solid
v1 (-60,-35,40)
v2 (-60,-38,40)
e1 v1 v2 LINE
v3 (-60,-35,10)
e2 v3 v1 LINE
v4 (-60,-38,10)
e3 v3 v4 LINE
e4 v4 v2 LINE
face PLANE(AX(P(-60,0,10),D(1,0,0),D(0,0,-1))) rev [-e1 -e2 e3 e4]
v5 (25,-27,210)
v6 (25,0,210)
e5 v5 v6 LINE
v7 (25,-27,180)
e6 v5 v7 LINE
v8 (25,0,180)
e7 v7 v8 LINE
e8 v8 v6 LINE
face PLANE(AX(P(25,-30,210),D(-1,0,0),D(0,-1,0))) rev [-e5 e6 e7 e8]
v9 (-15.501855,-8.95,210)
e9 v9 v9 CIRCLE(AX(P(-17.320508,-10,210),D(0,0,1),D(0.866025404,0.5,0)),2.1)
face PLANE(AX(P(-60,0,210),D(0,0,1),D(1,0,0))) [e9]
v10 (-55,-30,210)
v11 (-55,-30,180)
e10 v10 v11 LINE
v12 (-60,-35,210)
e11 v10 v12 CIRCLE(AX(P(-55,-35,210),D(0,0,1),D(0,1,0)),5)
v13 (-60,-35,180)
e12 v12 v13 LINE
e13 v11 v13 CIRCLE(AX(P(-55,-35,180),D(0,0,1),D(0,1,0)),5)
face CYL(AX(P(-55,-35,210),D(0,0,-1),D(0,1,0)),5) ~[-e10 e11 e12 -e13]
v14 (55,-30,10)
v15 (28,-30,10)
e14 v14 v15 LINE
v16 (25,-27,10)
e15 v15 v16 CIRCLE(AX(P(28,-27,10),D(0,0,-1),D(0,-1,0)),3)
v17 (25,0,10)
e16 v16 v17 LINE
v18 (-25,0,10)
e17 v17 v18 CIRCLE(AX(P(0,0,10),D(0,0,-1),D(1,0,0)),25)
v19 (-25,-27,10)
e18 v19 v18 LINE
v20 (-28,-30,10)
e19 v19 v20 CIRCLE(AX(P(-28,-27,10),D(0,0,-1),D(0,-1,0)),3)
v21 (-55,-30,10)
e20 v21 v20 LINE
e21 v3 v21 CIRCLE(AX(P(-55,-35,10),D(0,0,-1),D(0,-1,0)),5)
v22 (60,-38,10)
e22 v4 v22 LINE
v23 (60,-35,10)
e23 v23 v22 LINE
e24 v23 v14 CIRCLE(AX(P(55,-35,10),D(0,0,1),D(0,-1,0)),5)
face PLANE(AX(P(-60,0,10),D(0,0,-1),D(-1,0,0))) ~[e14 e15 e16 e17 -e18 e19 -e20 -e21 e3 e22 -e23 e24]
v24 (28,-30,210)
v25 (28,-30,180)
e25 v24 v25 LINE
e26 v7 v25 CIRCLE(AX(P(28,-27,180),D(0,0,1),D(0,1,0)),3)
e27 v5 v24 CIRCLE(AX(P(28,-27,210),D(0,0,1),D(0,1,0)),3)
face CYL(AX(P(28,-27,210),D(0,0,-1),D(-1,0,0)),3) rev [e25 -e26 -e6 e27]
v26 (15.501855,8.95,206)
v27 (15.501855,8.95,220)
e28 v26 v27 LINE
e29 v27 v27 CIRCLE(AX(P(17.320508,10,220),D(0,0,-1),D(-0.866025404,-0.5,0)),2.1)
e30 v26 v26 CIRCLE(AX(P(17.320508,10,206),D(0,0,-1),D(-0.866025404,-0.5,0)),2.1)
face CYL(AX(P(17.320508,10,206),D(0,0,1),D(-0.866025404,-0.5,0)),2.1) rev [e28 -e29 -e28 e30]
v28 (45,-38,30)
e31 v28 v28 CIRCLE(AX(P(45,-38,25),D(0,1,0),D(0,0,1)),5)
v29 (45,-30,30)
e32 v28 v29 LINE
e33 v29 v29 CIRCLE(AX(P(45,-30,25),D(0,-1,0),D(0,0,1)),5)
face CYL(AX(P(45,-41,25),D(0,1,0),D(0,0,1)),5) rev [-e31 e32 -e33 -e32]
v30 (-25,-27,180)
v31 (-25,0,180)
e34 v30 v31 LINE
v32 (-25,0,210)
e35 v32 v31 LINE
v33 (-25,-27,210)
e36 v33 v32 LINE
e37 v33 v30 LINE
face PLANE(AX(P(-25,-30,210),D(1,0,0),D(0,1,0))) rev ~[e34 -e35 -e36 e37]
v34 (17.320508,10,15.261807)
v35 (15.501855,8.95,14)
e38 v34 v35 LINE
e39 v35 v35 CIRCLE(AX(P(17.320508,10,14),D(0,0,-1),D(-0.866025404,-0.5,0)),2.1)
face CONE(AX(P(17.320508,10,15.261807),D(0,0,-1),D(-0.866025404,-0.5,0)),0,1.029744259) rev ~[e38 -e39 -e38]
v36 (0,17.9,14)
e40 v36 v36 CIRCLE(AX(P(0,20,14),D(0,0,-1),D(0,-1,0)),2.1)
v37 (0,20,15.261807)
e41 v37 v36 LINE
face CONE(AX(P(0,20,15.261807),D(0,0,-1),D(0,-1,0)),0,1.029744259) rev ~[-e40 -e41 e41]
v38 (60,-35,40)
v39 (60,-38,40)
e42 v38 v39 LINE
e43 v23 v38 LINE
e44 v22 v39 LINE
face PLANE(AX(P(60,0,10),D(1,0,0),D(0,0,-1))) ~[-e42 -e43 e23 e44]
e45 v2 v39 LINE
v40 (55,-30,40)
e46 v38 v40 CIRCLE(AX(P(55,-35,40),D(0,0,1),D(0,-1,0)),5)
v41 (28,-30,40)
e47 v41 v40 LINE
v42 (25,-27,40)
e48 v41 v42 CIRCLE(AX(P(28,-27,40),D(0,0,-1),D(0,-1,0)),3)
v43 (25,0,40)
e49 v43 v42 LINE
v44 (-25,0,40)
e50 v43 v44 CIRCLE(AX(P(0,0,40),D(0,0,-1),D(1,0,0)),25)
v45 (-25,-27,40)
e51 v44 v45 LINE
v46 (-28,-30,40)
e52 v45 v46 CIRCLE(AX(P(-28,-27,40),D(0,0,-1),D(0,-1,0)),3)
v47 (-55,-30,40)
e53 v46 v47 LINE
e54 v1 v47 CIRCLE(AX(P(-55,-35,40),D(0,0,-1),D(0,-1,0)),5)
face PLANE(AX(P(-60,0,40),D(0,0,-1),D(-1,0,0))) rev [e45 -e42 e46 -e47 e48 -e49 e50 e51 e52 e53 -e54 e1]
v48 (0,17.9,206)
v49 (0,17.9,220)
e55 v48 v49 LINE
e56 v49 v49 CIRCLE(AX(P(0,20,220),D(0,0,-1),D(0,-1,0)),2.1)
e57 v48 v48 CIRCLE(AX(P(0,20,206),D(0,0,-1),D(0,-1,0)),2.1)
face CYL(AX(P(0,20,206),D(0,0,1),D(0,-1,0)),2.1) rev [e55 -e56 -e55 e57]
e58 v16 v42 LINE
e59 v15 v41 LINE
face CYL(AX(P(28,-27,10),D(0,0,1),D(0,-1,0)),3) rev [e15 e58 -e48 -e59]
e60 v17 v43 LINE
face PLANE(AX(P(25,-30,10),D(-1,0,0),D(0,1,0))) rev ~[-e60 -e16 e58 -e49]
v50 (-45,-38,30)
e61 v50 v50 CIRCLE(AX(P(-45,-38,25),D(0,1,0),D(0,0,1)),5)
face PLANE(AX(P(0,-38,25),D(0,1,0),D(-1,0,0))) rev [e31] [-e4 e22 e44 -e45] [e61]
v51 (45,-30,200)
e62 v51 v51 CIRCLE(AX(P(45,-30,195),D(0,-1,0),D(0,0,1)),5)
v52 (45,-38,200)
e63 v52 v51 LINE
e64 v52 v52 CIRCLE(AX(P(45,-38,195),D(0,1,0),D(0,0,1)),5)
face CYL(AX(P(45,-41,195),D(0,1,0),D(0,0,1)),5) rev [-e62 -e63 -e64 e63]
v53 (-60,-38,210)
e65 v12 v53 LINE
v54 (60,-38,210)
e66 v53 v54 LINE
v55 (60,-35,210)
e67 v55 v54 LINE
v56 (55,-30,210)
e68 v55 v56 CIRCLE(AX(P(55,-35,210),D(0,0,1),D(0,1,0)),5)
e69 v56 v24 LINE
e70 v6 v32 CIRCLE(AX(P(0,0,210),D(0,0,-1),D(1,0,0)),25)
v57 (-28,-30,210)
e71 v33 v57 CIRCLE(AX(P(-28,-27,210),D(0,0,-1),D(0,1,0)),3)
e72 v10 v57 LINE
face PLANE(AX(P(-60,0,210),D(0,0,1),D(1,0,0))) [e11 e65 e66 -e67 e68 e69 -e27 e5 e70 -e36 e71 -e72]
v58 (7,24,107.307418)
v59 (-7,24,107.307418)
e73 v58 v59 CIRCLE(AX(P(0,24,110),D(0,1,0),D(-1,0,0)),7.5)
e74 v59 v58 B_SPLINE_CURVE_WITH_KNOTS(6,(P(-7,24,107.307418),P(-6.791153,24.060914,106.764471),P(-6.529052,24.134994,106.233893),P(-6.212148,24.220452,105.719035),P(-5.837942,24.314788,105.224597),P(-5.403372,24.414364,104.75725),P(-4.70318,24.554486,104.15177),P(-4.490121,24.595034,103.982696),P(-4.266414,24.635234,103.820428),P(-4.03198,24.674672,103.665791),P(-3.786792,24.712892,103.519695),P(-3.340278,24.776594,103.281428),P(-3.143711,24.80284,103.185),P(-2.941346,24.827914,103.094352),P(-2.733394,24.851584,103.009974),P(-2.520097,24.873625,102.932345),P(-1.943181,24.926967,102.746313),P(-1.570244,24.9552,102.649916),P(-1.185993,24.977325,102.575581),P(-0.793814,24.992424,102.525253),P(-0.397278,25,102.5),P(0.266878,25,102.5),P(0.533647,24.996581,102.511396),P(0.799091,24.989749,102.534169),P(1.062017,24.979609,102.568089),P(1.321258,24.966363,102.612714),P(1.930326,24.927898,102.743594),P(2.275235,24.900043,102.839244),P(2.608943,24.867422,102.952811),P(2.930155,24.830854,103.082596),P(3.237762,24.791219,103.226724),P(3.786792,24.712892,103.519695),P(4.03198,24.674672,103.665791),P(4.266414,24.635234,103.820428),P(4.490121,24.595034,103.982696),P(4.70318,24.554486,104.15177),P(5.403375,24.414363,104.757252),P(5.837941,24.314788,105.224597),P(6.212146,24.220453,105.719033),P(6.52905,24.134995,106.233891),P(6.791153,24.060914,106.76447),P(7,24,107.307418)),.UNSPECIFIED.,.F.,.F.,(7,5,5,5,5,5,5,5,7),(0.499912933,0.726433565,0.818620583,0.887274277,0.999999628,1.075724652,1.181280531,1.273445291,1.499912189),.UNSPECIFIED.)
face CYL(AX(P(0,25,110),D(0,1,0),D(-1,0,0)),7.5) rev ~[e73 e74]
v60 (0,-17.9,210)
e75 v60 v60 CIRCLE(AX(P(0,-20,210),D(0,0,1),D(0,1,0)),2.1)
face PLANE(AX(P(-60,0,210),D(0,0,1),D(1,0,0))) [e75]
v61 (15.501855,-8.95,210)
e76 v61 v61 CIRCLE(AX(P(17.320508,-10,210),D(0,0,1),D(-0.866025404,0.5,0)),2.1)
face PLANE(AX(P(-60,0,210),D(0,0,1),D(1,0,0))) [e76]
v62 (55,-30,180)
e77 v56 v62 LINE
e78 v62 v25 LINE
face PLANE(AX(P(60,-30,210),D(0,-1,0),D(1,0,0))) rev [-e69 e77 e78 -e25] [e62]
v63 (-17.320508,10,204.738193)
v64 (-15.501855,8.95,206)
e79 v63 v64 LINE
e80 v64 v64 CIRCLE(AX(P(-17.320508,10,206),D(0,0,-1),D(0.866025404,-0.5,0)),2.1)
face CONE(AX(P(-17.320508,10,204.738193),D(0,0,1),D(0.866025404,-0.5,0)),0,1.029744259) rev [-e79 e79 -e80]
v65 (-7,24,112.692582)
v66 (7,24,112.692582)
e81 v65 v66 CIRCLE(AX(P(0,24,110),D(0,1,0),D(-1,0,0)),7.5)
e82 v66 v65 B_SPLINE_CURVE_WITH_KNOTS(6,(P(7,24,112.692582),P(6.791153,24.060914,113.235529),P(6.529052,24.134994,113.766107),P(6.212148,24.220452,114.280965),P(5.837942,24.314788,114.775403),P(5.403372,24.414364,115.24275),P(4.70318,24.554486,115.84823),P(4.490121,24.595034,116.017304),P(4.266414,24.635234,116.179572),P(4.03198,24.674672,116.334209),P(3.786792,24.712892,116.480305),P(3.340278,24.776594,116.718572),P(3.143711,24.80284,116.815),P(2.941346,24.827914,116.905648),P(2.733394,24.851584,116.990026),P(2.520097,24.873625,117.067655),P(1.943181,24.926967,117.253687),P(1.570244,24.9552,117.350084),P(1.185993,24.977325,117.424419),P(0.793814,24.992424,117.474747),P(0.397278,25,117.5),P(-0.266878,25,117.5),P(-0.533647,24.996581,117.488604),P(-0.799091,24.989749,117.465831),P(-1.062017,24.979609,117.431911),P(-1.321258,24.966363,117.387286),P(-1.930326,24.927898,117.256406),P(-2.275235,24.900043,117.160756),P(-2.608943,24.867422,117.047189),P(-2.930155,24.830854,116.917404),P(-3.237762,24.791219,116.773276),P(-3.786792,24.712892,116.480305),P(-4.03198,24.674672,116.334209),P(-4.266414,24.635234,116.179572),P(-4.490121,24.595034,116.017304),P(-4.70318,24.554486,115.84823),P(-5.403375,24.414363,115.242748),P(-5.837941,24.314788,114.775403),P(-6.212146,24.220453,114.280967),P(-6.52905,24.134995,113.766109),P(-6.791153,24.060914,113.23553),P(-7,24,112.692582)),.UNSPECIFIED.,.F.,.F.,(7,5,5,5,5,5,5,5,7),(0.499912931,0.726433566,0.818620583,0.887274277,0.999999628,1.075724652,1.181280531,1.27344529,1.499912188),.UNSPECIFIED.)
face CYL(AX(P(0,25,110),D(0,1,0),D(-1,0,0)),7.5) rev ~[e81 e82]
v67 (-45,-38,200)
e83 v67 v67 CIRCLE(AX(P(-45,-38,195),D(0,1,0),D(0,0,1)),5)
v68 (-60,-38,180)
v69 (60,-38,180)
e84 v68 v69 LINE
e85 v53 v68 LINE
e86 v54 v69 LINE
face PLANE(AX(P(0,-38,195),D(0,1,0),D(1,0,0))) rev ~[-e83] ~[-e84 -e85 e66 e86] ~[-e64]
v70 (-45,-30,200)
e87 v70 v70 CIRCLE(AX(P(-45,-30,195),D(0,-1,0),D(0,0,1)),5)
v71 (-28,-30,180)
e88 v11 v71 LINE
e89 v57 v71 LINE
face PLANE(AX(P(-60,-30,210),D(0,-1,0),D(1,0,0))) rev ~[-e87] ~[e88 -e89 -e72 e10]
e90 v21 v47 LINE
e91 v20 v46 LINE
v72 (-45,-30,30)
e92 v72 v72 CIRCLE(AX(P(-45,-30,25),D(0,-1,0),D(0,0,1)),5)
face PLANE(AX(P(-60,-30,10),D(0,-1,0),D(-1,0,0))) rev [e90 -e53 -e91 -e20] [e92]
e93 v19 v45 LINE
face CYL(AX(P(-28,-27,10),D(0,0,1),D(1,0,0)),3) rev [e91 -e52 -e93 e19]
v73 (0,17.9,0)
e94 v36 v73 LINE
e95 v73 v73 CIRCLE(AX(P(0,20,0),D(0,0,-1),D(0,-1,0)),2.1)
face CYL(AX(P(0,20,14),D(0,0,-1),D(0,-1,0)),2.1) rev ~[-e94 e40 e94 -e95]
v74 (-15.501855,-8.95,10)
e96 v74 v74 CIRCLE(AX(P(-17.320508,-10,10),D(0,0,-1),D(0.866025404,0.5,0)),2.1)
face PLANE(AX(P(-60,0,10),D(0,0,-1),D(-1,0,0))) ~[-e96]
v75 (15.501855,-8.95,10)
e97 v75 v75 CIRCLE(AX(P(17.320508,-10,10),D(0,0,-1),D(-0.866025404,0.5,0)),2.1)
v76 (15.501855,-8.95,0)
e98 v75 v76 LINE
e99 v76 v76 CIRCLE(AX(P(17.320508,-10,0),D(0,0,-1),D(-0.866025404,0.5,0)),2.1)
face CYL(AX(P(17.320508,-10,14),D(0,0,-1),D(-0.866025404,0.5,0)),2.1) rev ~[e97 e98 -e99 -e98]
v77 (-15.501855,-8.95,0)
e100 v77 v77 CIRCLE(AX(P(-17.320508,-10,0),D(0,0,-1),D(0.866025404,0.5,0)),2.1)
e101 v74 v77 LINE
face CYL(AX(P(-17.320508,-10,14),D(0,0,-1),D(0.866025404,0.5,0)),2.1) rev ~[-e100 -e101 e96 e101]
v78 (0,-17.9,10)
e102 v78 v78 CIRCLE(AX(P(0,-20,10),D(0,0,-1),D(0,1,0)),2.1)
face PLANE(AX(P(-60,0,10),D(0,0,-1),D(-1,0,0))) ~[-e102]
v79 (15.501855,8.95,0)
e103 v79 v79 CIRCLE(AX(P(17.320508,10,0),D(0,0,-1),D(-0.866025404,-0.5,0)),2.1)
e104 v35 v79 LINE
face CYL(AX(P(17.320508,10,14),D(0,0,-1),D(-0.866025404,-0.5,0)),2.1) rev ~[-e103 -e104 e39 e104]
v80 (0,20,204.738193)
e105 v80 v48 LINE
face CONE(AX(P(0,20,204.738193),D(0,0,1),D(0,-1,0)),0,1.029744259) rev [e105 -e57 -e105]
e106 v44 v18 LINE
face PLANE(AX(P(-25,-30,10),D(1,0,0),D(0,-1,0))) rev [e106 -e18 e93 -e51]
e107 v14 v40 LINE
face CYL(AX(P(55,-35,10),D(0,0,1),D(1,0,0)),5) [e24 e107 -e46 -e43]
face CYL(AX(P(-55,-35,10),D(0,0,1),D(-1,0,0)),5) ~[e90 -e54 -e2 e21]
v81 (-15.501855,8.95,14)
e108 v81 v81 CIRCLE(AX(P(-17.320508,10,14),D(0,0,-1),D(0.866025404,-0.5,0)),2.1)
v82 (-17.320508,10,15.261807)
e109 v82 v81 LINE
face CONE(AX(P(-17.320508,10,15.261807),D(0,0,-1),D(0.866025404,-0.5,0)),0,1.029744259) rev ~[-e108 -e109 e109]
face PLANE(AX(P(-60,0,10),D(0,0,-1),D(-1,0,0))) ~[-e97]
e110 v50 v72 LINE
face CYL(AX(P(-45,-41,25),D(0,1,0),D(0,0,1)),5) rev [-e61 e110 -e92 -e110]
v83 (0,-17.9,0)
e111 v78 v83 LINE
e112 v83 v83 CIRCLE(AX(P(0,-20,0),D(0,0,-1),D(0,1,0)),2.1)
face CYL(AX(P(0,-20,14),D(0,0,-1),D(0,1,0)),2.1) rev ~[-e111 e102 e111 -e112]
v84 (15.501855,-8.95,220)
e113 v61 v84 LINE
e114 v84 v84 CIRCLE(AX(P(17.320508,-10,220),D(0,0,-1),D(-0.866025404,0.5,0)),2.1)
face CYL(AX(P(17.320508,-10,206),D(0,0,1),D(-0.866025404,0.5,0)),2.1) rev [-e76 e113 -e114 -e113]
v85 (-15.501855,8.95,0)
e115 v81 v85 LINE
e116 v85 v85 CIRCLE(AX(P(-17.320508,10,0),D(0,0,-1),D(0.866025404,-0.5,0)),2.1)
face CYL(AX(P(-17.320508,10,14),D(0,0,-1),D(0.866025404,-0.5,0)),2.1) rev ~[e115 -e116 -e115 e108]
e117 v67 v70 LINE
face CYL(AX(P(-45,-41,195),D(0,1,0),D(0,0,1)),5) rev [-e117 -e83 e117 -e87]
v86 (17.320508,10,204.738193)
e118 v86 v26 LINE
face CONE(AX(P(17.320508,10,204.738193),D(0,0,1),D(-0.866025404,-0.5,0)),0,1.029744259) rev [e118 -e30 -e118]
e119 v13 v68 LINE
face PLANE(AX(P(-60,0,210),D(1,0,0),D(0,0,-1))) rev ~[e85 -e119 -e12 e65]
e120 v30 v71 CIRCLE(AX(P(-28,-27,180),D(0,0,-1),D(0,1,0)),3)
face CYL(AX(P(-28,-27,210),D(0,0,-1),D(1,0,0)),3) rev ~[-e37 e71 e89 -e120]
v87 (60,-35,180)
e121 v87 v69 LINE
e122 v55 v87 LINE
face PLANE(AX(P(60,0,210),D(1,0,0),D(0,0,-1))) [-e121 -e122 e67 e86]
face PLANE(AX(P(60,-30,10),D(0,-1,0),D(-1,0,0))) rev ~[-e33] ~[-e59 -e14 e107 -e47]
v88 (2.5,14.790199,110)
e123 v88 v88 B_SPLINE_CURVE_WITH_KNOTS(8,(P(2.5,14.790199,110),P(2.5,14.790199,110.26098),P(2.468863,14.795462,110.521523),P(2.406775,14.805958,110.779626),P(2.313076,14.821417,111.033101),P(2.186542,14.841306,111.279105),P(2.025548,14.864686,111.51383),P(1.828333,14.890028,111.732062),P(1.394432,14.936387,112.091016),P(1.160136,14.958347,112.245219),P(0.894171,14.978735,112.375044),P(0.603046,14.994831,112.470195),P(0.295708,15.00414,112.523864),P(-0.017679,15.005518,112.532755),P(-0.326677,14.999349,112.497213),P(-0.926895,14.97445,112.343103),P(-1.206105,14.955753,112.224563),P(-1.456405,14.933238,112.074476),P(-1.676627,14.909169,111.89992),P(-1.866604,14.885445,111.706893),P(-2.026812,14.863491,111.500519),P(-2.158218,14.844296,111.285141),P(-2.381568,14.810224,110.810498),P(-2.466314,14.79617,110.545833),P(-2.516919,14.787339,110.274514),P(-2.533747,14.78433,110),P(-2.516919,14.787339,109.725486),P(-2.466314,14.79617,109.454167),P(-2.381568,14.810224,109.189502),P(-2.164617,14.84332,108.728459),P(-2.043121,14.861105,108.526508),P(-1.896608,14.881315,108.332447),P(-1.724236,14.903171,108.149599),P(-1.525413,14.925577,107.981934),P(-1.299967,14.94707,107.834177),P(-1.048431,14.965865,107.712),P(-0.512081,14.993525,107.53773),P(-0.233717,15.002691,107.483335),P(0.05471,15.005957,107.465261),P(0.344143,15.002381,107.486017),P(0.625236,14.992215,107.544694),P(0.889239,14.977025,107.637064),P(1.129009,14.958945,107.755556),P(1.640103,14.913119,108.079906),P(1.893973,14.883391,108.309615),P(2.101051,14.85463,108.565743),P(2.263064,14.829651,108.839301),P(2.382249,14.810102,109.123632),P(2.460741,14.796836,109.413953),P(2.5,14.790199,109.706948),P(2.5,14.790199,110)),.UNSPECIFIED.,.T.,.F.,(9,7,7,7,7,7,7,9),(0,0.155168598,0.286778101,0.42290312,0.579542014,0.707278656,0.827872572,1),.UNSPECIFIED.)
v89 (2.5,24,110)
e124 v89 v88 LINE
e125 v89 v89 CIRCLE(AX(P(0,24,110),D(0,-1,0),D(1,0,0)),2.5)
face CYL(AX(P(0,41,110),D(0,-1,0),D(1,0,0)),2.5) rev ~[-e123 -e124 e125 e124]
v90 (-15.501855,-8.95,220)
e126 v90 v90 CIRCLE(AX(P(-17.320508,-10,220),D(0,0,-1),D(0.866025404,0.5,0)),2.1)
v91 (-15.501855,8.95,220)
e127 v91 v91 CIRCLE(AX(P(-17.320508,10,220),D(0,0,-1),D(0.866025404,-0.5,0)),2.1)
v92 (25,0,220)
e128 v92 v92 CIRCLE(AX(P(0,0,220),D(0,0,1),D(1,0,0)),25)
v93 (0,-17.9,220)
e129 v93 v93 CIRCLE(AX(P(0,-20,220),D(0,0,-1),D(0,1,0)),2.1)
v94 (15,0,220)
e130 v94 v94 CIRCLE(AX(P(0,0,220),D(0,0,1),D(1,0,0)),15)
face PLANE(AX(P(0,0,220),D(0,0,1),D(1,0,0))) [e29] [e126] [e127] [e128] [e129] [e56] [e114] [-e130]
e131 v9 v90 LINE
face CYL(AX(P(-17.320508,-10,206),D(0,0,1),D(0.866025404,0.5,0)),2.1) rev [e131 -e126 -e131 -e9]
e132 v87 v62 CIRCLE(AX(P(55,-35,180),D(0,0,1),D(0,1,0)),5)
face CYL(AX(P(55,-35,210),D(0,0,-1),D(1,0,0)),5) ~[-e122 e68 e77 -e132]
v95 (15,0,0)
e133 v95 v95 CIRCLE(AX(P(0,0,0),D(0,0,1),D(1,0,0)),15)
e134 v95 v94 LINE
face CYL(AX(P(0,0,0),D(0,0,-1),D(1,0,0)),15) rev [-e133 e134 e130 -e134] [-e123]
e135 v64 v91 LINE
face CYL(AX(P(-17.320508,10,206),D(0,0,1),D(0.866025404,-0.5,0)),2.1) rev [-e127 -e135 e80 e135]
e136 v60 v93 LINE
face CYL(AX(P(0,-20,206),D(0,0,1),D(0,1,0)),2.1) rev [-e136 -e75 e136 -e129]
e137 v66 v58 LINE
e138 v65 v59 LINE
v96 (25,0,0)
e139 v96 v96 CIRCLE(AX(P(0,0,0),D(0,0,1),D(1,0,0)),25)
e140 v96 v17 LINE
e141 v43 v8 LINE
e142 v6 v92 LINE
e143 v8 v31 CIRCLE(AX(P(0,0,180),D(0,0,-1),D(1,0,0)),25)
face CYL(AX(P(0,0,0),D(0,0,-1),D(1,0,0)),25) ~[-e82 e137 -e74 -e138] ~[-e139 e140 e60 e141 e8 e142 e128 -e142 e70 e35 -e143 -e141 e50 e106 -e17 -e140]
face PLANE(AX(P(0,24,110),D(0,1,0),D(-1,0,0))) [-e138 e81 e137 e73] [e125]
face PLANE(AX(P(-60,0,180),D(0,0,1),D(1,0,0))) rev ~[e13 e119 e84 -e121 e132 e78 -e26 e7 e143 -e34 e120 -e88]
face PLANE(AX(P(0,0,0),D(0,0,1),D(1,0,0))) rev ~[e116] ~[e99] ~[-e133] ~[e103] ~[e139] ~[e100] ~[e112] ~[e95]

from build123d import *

# Parameters (mm, degrees)
SKETCH1_R                 = 25
SKETCH1_R_2               = 15
BOSS_EXTRUDE1_DEPTH       = 220
CIRPATTERN1_COUNT         = 6
SKETCH11_R                = 7.5
CUT_EXTRUDE2_DEPTH        = 1
SKETCH13_W                = 120
SKETCH13_H                = 30
BOSS_EXTRUDE3_DEPTH       = 38
SKETCH15_R                = 15
CUT_EXTRUDE3_DEPTH        = 221.0000001
SKETCH16_W                = 35
SKETCH16_H                = 30
CUT_EXTRUDE4_DEPTH        = 38
MIRROR4_COPY_1_SKETCH_W   = 35
MIRROR4_COPY_1_SKETCH_H   = 30
MIRROR4_COPY_1_DEPTH      = 38
FILLET1_R                 = 5
FILLET2_R                 = 3
M6X1_0_TAPPED_HOLE1_D     = 5
M6X1_0_TAPPED_HOLE1_DEPTH = 17
M6X1_0_TAPPED_HOLE1_TIP   = 1.502151548
LPATTERN1_COUNT           = 2
LPATTERN1_PITCH           = 90
LPATTERN1_COUNT_DIR2      = 2
LPATTERN1_PITCH_DIR2      = 170


with BuildPart() as part:
    # Sketch1 → Boss-Extrude1 (new body)
    with BuildSketch(Plane.XY):
        Circle(SKETCH1_R)
        Circle(SKETCH1_R_2, mode=Mode.SUBTRACT)
    extrude(amount=BOSS_EXTRUDE1_DEPTH)

    # Sketch2 → M5x0.8 Tapped Hole1 (revolve, cut)
    with BuildSketch(Plane(origin=(0, 20, 220), x_dir=(0, -1, 0), z_dir=(1, 0, 0))):
        Polygon((0, 0), (0, 15.2618073), (2.1, 14), (2.1, 0), align=None)
    m5x0_8_tapped_hole1 = revolve(axis=Axis((0, 20, 226.35), (0, 0, -1)), mode=Mode.SUBTRACT)

    # CirPattern1: M5x0.8 Tapped Hole1 ×6 about axis
    cirpattern1_axis = Axis((0, 0, 0), (0, 0, 1))
    for i in range(1, CIRPATTERN1_COUNT):
        add(m5x0_8_tapped_hole1.rotate(cirpattern1_axis, i * 360 / CIRPATTERN1_COUNT), mode=Mode.SUBTRACT)

    # Mirror1: M5x0.8 Tapped Hole1 across plane
    add(m5x0_8_tapped_hole1.mirror(Plane.XY.offset(110)), mode=Mode.SUBTRACT)

    # Mirror1 copy 1 sketch → Mirror1 copy 1 (revolve, cut)
    with BuildSketch(Plane(origin=(-17.320508076, 10, 0), x_dir=(0.866025404, -0.5, 0), z_dir=(0.5, 0.866025404, 0))):
        Polygon((0, 0), (0, -15.2618073), (2.1, -14), (2.1, 0), align=None)
    revolve(axis=Axis((-17.320508076, 10, -6.35), (0, 0, -1)), mode=Mode.SUBTRACT)

    # Mirror1 copy 2 sketch → Mirror1 copy 2 (revolve, cut)
    with BuildSketch(Plane(origin=(-17.320508076, -10, 0), x_dir=(0.866025404, 0.5, 0), z_dir=(-0.5, 0.866025404, 0))):
        Polygon((0, 0), (0, -15.2618073), (2.1, -14), (2.1, 0), align=None)
    revolve(axis=Axis((-17.320508076, -10, -6.35), (0, 0, -1)), mode=Mode.SUBTRACT)

    # Mirror1 copy 3 sketch → Mirror1 copy 3 (revolve, cut)
    with BuildSketch(Plane(origin=(0, -20, 0), x_dir=(0, 1, 0), z_dir=(-1, 0, 0))):
        Polygon((0, 0), (0, -15.2618073), (2.1, -14), (2.1, 0), align=None)
    revolve(axis=Axis((0, -20, -6.35), (0, 0, -1)), mode=Mode.SUBTRACT)

    # Mirror1 copy 4 sketch → Mirror1 copy 4 (revolve, cut)
    with BuildSketch(Plane(origin=(17.320508076, -10, 0), x_dir=(-0.866025404, 0.5, 0), z_dir=(-0.5, -0.866025404, 0))):
        Polygon((0, 0), (0, -15.2618073), (2.1, -14), (2.1, 0), align=None)
    revolve(axis=Axis((17.320508076, -10, -6.35), (0, 0, -1)), mode=Mode.SUBTRACT)

    # Mirror1 copy 5 sketch → Mirror1 copy 5 (revolve, cut)
    with BuildSketch(Plane(origin=(17.320508076, 10, 0), x_dir=(-0.866025404, -0.5, 0), z_dir=(0.5, -0.866025404, 0))):
        Polygon((0, 0), (0, -15.2618073), (2.1, -14), (2.1, 0), align=None)
    revolve(axis=Axis((17.320508076, 10, -6.35), (0, 0, -1)), mode=Mode.SUBTRACT)

    # Sketch11 → Cut-Extrude2 (cut)
    with BuildSketch(Plane(origin=(0, 25, 0), x_dir=(-1, 0, 0), z_dir=(0, 1, 0))):
        with Locations((0, 110)):
            Circle(SKETCH11_R)
    extrude(amount=-CUT_EXTRUDE2_DEPTH, mode=Mode.SUBTRACT)

    # Sketch13 → Boss-Extrude3 (add)
    with BuildSketch(Plane(origin=(0, 0, 0), x_dir=(1, 0, 0), z_dir=(0, 1, 0))):
        with Locations((0, -195)):
            Rectangle(SKETCH13_W, SKETCH13_H)
    boss_extrude3 = extrude(amount=-BOSS_EXTRUDE3_DEPTH)

    # Mirror2: Boss-Extrude3 across plane
    add(boss_extrude3.mirror(Plane.XY.offset(110)))

    # Sketch15 → Cut-Extrude3 (cut, through all)
    with BuildSketch(Plane.XY.offset(220)):
        Circle(SKETCH15_R)
    extrude(amount=-CUT_EXTRUDE3_DEPTH, mode=Mode.SUBTRACT)

    # Sketch16 → Cut-Extrude4 (cut)
    with BuildSketch(Plane.XY.offset(210)):
        with Locations((-42.5, -15)):
            Rectangle(SKETCH16_W, SKETCH16_H)
    cut_extrude4 = extrude(amount=-CUT_EXTRUDE4_DEPTH, mode=Mode.SUBTRACT)

    # Mirror3: Cut-Extrude4 across plane
    add(cut_extrude4.mirror(Plane(origin=(0, 0, 0), x_dir=(0, 0, 1), z_dir=(1, 0, 0))), mode=Mode.SUBTRACT)

    # Mirror4: Cut-Extrude4 across plane
    add(cut_extrude4.mirror(Plane.XY.offset(110)), mode=Mode.SUBTRACT)

    # Mirror4 copy 1 sketch → Mirror4 copy 1 (cut)
    with BuildSketch(Plane(origin=(0, 0, 10), x_dir=(-1, 0, 0), z_dir=(0, 0, -1))):
        with Locations((-42.5, -15)):
            Rectangle(MIRROR4_COPY_1_SKETCH_W, MIRROR4_COPY_1_SKETCH_H)
    extrude(amount=-MIRROR4_COPY_1_DEPTH, mode=Mode.SUBTRACT)

    # Fillet1
    fillet1_edges = [part.edges().sort_by_distance(p)[0] for p in [
        (-60, -30, 195),
        (60, -30, 195),
        (60, -30, 25),
        (-60, -30, 25),
    ]]
    fillet(fillet1_edges, radius=FILLET1_R)

    # Fillet2
    fillet2_edges = [part.edges().sort_by_distance(p)[0] for p in [
        (-25, -30, 195),
        (25, -30, 195),
        (25, -30, 25),
        (-25, -30, 25),
    ]]
    fillet(fillet2_edges, radius=FILLET2_R)

    # Sketch19 → Ø10.0 (10) Diameter Hole1 (revolve, cut)
    with BuildSketch(Plane(origin=(-45, -30, 25), x_dir=(0, 0, 1), z_dir=(1, 0, 0))):
        Polygon((0, 0), (0, 14.004303095), (5, 11), (5, 0), align=None)
    f_10_0_10_diameter_hole1 = revolve(axis=Axis((-45, -23.65, 25), (0, -1, 0)), mode=Mode.SUBTRACT)

    # M6x1.0 Tapped Hole1
    with Locations(Plane(origin=(0, 24, 0), x_dir=(-1, 0, 0), z_dir=(0, 1, 0))):
        with Locations((0, 110)):
            Hole(M6X1_0_TAPPED_HOLE1_D / 2, depth=M6X1_0_TAPPED_HOLE1_DEPTH)
            with Locations((0, 0, -(M6X1_0_TAPPED_HOLE1_DEPTH + M6X1_0_TAPPED_HOLE1_TIP / 2))):  # 118° drill point
                Cone(0, M6X1_0_TAPPED_HOLE1_D / 2, M6X1_0_TAPPED_HOLE1_TIP, mode=Mode.SUBTRACT)

    # LPattern1: 10.0 _10_ Diameter Hole1 2 × 2
    with Locations(*[(i * LPATTERN1_PITCH, 0, j * LPATTERN1_PITCH_DIR2) for i in range(LPATTERN1_COUNT) for j in range(LPATTERN1_COUNT_DIR2) if (i, j) != (0, 0)]):
        add(f_10_0_10_diameter_hole1, mode=Mode.SUBTRACT)


solid = part.part
